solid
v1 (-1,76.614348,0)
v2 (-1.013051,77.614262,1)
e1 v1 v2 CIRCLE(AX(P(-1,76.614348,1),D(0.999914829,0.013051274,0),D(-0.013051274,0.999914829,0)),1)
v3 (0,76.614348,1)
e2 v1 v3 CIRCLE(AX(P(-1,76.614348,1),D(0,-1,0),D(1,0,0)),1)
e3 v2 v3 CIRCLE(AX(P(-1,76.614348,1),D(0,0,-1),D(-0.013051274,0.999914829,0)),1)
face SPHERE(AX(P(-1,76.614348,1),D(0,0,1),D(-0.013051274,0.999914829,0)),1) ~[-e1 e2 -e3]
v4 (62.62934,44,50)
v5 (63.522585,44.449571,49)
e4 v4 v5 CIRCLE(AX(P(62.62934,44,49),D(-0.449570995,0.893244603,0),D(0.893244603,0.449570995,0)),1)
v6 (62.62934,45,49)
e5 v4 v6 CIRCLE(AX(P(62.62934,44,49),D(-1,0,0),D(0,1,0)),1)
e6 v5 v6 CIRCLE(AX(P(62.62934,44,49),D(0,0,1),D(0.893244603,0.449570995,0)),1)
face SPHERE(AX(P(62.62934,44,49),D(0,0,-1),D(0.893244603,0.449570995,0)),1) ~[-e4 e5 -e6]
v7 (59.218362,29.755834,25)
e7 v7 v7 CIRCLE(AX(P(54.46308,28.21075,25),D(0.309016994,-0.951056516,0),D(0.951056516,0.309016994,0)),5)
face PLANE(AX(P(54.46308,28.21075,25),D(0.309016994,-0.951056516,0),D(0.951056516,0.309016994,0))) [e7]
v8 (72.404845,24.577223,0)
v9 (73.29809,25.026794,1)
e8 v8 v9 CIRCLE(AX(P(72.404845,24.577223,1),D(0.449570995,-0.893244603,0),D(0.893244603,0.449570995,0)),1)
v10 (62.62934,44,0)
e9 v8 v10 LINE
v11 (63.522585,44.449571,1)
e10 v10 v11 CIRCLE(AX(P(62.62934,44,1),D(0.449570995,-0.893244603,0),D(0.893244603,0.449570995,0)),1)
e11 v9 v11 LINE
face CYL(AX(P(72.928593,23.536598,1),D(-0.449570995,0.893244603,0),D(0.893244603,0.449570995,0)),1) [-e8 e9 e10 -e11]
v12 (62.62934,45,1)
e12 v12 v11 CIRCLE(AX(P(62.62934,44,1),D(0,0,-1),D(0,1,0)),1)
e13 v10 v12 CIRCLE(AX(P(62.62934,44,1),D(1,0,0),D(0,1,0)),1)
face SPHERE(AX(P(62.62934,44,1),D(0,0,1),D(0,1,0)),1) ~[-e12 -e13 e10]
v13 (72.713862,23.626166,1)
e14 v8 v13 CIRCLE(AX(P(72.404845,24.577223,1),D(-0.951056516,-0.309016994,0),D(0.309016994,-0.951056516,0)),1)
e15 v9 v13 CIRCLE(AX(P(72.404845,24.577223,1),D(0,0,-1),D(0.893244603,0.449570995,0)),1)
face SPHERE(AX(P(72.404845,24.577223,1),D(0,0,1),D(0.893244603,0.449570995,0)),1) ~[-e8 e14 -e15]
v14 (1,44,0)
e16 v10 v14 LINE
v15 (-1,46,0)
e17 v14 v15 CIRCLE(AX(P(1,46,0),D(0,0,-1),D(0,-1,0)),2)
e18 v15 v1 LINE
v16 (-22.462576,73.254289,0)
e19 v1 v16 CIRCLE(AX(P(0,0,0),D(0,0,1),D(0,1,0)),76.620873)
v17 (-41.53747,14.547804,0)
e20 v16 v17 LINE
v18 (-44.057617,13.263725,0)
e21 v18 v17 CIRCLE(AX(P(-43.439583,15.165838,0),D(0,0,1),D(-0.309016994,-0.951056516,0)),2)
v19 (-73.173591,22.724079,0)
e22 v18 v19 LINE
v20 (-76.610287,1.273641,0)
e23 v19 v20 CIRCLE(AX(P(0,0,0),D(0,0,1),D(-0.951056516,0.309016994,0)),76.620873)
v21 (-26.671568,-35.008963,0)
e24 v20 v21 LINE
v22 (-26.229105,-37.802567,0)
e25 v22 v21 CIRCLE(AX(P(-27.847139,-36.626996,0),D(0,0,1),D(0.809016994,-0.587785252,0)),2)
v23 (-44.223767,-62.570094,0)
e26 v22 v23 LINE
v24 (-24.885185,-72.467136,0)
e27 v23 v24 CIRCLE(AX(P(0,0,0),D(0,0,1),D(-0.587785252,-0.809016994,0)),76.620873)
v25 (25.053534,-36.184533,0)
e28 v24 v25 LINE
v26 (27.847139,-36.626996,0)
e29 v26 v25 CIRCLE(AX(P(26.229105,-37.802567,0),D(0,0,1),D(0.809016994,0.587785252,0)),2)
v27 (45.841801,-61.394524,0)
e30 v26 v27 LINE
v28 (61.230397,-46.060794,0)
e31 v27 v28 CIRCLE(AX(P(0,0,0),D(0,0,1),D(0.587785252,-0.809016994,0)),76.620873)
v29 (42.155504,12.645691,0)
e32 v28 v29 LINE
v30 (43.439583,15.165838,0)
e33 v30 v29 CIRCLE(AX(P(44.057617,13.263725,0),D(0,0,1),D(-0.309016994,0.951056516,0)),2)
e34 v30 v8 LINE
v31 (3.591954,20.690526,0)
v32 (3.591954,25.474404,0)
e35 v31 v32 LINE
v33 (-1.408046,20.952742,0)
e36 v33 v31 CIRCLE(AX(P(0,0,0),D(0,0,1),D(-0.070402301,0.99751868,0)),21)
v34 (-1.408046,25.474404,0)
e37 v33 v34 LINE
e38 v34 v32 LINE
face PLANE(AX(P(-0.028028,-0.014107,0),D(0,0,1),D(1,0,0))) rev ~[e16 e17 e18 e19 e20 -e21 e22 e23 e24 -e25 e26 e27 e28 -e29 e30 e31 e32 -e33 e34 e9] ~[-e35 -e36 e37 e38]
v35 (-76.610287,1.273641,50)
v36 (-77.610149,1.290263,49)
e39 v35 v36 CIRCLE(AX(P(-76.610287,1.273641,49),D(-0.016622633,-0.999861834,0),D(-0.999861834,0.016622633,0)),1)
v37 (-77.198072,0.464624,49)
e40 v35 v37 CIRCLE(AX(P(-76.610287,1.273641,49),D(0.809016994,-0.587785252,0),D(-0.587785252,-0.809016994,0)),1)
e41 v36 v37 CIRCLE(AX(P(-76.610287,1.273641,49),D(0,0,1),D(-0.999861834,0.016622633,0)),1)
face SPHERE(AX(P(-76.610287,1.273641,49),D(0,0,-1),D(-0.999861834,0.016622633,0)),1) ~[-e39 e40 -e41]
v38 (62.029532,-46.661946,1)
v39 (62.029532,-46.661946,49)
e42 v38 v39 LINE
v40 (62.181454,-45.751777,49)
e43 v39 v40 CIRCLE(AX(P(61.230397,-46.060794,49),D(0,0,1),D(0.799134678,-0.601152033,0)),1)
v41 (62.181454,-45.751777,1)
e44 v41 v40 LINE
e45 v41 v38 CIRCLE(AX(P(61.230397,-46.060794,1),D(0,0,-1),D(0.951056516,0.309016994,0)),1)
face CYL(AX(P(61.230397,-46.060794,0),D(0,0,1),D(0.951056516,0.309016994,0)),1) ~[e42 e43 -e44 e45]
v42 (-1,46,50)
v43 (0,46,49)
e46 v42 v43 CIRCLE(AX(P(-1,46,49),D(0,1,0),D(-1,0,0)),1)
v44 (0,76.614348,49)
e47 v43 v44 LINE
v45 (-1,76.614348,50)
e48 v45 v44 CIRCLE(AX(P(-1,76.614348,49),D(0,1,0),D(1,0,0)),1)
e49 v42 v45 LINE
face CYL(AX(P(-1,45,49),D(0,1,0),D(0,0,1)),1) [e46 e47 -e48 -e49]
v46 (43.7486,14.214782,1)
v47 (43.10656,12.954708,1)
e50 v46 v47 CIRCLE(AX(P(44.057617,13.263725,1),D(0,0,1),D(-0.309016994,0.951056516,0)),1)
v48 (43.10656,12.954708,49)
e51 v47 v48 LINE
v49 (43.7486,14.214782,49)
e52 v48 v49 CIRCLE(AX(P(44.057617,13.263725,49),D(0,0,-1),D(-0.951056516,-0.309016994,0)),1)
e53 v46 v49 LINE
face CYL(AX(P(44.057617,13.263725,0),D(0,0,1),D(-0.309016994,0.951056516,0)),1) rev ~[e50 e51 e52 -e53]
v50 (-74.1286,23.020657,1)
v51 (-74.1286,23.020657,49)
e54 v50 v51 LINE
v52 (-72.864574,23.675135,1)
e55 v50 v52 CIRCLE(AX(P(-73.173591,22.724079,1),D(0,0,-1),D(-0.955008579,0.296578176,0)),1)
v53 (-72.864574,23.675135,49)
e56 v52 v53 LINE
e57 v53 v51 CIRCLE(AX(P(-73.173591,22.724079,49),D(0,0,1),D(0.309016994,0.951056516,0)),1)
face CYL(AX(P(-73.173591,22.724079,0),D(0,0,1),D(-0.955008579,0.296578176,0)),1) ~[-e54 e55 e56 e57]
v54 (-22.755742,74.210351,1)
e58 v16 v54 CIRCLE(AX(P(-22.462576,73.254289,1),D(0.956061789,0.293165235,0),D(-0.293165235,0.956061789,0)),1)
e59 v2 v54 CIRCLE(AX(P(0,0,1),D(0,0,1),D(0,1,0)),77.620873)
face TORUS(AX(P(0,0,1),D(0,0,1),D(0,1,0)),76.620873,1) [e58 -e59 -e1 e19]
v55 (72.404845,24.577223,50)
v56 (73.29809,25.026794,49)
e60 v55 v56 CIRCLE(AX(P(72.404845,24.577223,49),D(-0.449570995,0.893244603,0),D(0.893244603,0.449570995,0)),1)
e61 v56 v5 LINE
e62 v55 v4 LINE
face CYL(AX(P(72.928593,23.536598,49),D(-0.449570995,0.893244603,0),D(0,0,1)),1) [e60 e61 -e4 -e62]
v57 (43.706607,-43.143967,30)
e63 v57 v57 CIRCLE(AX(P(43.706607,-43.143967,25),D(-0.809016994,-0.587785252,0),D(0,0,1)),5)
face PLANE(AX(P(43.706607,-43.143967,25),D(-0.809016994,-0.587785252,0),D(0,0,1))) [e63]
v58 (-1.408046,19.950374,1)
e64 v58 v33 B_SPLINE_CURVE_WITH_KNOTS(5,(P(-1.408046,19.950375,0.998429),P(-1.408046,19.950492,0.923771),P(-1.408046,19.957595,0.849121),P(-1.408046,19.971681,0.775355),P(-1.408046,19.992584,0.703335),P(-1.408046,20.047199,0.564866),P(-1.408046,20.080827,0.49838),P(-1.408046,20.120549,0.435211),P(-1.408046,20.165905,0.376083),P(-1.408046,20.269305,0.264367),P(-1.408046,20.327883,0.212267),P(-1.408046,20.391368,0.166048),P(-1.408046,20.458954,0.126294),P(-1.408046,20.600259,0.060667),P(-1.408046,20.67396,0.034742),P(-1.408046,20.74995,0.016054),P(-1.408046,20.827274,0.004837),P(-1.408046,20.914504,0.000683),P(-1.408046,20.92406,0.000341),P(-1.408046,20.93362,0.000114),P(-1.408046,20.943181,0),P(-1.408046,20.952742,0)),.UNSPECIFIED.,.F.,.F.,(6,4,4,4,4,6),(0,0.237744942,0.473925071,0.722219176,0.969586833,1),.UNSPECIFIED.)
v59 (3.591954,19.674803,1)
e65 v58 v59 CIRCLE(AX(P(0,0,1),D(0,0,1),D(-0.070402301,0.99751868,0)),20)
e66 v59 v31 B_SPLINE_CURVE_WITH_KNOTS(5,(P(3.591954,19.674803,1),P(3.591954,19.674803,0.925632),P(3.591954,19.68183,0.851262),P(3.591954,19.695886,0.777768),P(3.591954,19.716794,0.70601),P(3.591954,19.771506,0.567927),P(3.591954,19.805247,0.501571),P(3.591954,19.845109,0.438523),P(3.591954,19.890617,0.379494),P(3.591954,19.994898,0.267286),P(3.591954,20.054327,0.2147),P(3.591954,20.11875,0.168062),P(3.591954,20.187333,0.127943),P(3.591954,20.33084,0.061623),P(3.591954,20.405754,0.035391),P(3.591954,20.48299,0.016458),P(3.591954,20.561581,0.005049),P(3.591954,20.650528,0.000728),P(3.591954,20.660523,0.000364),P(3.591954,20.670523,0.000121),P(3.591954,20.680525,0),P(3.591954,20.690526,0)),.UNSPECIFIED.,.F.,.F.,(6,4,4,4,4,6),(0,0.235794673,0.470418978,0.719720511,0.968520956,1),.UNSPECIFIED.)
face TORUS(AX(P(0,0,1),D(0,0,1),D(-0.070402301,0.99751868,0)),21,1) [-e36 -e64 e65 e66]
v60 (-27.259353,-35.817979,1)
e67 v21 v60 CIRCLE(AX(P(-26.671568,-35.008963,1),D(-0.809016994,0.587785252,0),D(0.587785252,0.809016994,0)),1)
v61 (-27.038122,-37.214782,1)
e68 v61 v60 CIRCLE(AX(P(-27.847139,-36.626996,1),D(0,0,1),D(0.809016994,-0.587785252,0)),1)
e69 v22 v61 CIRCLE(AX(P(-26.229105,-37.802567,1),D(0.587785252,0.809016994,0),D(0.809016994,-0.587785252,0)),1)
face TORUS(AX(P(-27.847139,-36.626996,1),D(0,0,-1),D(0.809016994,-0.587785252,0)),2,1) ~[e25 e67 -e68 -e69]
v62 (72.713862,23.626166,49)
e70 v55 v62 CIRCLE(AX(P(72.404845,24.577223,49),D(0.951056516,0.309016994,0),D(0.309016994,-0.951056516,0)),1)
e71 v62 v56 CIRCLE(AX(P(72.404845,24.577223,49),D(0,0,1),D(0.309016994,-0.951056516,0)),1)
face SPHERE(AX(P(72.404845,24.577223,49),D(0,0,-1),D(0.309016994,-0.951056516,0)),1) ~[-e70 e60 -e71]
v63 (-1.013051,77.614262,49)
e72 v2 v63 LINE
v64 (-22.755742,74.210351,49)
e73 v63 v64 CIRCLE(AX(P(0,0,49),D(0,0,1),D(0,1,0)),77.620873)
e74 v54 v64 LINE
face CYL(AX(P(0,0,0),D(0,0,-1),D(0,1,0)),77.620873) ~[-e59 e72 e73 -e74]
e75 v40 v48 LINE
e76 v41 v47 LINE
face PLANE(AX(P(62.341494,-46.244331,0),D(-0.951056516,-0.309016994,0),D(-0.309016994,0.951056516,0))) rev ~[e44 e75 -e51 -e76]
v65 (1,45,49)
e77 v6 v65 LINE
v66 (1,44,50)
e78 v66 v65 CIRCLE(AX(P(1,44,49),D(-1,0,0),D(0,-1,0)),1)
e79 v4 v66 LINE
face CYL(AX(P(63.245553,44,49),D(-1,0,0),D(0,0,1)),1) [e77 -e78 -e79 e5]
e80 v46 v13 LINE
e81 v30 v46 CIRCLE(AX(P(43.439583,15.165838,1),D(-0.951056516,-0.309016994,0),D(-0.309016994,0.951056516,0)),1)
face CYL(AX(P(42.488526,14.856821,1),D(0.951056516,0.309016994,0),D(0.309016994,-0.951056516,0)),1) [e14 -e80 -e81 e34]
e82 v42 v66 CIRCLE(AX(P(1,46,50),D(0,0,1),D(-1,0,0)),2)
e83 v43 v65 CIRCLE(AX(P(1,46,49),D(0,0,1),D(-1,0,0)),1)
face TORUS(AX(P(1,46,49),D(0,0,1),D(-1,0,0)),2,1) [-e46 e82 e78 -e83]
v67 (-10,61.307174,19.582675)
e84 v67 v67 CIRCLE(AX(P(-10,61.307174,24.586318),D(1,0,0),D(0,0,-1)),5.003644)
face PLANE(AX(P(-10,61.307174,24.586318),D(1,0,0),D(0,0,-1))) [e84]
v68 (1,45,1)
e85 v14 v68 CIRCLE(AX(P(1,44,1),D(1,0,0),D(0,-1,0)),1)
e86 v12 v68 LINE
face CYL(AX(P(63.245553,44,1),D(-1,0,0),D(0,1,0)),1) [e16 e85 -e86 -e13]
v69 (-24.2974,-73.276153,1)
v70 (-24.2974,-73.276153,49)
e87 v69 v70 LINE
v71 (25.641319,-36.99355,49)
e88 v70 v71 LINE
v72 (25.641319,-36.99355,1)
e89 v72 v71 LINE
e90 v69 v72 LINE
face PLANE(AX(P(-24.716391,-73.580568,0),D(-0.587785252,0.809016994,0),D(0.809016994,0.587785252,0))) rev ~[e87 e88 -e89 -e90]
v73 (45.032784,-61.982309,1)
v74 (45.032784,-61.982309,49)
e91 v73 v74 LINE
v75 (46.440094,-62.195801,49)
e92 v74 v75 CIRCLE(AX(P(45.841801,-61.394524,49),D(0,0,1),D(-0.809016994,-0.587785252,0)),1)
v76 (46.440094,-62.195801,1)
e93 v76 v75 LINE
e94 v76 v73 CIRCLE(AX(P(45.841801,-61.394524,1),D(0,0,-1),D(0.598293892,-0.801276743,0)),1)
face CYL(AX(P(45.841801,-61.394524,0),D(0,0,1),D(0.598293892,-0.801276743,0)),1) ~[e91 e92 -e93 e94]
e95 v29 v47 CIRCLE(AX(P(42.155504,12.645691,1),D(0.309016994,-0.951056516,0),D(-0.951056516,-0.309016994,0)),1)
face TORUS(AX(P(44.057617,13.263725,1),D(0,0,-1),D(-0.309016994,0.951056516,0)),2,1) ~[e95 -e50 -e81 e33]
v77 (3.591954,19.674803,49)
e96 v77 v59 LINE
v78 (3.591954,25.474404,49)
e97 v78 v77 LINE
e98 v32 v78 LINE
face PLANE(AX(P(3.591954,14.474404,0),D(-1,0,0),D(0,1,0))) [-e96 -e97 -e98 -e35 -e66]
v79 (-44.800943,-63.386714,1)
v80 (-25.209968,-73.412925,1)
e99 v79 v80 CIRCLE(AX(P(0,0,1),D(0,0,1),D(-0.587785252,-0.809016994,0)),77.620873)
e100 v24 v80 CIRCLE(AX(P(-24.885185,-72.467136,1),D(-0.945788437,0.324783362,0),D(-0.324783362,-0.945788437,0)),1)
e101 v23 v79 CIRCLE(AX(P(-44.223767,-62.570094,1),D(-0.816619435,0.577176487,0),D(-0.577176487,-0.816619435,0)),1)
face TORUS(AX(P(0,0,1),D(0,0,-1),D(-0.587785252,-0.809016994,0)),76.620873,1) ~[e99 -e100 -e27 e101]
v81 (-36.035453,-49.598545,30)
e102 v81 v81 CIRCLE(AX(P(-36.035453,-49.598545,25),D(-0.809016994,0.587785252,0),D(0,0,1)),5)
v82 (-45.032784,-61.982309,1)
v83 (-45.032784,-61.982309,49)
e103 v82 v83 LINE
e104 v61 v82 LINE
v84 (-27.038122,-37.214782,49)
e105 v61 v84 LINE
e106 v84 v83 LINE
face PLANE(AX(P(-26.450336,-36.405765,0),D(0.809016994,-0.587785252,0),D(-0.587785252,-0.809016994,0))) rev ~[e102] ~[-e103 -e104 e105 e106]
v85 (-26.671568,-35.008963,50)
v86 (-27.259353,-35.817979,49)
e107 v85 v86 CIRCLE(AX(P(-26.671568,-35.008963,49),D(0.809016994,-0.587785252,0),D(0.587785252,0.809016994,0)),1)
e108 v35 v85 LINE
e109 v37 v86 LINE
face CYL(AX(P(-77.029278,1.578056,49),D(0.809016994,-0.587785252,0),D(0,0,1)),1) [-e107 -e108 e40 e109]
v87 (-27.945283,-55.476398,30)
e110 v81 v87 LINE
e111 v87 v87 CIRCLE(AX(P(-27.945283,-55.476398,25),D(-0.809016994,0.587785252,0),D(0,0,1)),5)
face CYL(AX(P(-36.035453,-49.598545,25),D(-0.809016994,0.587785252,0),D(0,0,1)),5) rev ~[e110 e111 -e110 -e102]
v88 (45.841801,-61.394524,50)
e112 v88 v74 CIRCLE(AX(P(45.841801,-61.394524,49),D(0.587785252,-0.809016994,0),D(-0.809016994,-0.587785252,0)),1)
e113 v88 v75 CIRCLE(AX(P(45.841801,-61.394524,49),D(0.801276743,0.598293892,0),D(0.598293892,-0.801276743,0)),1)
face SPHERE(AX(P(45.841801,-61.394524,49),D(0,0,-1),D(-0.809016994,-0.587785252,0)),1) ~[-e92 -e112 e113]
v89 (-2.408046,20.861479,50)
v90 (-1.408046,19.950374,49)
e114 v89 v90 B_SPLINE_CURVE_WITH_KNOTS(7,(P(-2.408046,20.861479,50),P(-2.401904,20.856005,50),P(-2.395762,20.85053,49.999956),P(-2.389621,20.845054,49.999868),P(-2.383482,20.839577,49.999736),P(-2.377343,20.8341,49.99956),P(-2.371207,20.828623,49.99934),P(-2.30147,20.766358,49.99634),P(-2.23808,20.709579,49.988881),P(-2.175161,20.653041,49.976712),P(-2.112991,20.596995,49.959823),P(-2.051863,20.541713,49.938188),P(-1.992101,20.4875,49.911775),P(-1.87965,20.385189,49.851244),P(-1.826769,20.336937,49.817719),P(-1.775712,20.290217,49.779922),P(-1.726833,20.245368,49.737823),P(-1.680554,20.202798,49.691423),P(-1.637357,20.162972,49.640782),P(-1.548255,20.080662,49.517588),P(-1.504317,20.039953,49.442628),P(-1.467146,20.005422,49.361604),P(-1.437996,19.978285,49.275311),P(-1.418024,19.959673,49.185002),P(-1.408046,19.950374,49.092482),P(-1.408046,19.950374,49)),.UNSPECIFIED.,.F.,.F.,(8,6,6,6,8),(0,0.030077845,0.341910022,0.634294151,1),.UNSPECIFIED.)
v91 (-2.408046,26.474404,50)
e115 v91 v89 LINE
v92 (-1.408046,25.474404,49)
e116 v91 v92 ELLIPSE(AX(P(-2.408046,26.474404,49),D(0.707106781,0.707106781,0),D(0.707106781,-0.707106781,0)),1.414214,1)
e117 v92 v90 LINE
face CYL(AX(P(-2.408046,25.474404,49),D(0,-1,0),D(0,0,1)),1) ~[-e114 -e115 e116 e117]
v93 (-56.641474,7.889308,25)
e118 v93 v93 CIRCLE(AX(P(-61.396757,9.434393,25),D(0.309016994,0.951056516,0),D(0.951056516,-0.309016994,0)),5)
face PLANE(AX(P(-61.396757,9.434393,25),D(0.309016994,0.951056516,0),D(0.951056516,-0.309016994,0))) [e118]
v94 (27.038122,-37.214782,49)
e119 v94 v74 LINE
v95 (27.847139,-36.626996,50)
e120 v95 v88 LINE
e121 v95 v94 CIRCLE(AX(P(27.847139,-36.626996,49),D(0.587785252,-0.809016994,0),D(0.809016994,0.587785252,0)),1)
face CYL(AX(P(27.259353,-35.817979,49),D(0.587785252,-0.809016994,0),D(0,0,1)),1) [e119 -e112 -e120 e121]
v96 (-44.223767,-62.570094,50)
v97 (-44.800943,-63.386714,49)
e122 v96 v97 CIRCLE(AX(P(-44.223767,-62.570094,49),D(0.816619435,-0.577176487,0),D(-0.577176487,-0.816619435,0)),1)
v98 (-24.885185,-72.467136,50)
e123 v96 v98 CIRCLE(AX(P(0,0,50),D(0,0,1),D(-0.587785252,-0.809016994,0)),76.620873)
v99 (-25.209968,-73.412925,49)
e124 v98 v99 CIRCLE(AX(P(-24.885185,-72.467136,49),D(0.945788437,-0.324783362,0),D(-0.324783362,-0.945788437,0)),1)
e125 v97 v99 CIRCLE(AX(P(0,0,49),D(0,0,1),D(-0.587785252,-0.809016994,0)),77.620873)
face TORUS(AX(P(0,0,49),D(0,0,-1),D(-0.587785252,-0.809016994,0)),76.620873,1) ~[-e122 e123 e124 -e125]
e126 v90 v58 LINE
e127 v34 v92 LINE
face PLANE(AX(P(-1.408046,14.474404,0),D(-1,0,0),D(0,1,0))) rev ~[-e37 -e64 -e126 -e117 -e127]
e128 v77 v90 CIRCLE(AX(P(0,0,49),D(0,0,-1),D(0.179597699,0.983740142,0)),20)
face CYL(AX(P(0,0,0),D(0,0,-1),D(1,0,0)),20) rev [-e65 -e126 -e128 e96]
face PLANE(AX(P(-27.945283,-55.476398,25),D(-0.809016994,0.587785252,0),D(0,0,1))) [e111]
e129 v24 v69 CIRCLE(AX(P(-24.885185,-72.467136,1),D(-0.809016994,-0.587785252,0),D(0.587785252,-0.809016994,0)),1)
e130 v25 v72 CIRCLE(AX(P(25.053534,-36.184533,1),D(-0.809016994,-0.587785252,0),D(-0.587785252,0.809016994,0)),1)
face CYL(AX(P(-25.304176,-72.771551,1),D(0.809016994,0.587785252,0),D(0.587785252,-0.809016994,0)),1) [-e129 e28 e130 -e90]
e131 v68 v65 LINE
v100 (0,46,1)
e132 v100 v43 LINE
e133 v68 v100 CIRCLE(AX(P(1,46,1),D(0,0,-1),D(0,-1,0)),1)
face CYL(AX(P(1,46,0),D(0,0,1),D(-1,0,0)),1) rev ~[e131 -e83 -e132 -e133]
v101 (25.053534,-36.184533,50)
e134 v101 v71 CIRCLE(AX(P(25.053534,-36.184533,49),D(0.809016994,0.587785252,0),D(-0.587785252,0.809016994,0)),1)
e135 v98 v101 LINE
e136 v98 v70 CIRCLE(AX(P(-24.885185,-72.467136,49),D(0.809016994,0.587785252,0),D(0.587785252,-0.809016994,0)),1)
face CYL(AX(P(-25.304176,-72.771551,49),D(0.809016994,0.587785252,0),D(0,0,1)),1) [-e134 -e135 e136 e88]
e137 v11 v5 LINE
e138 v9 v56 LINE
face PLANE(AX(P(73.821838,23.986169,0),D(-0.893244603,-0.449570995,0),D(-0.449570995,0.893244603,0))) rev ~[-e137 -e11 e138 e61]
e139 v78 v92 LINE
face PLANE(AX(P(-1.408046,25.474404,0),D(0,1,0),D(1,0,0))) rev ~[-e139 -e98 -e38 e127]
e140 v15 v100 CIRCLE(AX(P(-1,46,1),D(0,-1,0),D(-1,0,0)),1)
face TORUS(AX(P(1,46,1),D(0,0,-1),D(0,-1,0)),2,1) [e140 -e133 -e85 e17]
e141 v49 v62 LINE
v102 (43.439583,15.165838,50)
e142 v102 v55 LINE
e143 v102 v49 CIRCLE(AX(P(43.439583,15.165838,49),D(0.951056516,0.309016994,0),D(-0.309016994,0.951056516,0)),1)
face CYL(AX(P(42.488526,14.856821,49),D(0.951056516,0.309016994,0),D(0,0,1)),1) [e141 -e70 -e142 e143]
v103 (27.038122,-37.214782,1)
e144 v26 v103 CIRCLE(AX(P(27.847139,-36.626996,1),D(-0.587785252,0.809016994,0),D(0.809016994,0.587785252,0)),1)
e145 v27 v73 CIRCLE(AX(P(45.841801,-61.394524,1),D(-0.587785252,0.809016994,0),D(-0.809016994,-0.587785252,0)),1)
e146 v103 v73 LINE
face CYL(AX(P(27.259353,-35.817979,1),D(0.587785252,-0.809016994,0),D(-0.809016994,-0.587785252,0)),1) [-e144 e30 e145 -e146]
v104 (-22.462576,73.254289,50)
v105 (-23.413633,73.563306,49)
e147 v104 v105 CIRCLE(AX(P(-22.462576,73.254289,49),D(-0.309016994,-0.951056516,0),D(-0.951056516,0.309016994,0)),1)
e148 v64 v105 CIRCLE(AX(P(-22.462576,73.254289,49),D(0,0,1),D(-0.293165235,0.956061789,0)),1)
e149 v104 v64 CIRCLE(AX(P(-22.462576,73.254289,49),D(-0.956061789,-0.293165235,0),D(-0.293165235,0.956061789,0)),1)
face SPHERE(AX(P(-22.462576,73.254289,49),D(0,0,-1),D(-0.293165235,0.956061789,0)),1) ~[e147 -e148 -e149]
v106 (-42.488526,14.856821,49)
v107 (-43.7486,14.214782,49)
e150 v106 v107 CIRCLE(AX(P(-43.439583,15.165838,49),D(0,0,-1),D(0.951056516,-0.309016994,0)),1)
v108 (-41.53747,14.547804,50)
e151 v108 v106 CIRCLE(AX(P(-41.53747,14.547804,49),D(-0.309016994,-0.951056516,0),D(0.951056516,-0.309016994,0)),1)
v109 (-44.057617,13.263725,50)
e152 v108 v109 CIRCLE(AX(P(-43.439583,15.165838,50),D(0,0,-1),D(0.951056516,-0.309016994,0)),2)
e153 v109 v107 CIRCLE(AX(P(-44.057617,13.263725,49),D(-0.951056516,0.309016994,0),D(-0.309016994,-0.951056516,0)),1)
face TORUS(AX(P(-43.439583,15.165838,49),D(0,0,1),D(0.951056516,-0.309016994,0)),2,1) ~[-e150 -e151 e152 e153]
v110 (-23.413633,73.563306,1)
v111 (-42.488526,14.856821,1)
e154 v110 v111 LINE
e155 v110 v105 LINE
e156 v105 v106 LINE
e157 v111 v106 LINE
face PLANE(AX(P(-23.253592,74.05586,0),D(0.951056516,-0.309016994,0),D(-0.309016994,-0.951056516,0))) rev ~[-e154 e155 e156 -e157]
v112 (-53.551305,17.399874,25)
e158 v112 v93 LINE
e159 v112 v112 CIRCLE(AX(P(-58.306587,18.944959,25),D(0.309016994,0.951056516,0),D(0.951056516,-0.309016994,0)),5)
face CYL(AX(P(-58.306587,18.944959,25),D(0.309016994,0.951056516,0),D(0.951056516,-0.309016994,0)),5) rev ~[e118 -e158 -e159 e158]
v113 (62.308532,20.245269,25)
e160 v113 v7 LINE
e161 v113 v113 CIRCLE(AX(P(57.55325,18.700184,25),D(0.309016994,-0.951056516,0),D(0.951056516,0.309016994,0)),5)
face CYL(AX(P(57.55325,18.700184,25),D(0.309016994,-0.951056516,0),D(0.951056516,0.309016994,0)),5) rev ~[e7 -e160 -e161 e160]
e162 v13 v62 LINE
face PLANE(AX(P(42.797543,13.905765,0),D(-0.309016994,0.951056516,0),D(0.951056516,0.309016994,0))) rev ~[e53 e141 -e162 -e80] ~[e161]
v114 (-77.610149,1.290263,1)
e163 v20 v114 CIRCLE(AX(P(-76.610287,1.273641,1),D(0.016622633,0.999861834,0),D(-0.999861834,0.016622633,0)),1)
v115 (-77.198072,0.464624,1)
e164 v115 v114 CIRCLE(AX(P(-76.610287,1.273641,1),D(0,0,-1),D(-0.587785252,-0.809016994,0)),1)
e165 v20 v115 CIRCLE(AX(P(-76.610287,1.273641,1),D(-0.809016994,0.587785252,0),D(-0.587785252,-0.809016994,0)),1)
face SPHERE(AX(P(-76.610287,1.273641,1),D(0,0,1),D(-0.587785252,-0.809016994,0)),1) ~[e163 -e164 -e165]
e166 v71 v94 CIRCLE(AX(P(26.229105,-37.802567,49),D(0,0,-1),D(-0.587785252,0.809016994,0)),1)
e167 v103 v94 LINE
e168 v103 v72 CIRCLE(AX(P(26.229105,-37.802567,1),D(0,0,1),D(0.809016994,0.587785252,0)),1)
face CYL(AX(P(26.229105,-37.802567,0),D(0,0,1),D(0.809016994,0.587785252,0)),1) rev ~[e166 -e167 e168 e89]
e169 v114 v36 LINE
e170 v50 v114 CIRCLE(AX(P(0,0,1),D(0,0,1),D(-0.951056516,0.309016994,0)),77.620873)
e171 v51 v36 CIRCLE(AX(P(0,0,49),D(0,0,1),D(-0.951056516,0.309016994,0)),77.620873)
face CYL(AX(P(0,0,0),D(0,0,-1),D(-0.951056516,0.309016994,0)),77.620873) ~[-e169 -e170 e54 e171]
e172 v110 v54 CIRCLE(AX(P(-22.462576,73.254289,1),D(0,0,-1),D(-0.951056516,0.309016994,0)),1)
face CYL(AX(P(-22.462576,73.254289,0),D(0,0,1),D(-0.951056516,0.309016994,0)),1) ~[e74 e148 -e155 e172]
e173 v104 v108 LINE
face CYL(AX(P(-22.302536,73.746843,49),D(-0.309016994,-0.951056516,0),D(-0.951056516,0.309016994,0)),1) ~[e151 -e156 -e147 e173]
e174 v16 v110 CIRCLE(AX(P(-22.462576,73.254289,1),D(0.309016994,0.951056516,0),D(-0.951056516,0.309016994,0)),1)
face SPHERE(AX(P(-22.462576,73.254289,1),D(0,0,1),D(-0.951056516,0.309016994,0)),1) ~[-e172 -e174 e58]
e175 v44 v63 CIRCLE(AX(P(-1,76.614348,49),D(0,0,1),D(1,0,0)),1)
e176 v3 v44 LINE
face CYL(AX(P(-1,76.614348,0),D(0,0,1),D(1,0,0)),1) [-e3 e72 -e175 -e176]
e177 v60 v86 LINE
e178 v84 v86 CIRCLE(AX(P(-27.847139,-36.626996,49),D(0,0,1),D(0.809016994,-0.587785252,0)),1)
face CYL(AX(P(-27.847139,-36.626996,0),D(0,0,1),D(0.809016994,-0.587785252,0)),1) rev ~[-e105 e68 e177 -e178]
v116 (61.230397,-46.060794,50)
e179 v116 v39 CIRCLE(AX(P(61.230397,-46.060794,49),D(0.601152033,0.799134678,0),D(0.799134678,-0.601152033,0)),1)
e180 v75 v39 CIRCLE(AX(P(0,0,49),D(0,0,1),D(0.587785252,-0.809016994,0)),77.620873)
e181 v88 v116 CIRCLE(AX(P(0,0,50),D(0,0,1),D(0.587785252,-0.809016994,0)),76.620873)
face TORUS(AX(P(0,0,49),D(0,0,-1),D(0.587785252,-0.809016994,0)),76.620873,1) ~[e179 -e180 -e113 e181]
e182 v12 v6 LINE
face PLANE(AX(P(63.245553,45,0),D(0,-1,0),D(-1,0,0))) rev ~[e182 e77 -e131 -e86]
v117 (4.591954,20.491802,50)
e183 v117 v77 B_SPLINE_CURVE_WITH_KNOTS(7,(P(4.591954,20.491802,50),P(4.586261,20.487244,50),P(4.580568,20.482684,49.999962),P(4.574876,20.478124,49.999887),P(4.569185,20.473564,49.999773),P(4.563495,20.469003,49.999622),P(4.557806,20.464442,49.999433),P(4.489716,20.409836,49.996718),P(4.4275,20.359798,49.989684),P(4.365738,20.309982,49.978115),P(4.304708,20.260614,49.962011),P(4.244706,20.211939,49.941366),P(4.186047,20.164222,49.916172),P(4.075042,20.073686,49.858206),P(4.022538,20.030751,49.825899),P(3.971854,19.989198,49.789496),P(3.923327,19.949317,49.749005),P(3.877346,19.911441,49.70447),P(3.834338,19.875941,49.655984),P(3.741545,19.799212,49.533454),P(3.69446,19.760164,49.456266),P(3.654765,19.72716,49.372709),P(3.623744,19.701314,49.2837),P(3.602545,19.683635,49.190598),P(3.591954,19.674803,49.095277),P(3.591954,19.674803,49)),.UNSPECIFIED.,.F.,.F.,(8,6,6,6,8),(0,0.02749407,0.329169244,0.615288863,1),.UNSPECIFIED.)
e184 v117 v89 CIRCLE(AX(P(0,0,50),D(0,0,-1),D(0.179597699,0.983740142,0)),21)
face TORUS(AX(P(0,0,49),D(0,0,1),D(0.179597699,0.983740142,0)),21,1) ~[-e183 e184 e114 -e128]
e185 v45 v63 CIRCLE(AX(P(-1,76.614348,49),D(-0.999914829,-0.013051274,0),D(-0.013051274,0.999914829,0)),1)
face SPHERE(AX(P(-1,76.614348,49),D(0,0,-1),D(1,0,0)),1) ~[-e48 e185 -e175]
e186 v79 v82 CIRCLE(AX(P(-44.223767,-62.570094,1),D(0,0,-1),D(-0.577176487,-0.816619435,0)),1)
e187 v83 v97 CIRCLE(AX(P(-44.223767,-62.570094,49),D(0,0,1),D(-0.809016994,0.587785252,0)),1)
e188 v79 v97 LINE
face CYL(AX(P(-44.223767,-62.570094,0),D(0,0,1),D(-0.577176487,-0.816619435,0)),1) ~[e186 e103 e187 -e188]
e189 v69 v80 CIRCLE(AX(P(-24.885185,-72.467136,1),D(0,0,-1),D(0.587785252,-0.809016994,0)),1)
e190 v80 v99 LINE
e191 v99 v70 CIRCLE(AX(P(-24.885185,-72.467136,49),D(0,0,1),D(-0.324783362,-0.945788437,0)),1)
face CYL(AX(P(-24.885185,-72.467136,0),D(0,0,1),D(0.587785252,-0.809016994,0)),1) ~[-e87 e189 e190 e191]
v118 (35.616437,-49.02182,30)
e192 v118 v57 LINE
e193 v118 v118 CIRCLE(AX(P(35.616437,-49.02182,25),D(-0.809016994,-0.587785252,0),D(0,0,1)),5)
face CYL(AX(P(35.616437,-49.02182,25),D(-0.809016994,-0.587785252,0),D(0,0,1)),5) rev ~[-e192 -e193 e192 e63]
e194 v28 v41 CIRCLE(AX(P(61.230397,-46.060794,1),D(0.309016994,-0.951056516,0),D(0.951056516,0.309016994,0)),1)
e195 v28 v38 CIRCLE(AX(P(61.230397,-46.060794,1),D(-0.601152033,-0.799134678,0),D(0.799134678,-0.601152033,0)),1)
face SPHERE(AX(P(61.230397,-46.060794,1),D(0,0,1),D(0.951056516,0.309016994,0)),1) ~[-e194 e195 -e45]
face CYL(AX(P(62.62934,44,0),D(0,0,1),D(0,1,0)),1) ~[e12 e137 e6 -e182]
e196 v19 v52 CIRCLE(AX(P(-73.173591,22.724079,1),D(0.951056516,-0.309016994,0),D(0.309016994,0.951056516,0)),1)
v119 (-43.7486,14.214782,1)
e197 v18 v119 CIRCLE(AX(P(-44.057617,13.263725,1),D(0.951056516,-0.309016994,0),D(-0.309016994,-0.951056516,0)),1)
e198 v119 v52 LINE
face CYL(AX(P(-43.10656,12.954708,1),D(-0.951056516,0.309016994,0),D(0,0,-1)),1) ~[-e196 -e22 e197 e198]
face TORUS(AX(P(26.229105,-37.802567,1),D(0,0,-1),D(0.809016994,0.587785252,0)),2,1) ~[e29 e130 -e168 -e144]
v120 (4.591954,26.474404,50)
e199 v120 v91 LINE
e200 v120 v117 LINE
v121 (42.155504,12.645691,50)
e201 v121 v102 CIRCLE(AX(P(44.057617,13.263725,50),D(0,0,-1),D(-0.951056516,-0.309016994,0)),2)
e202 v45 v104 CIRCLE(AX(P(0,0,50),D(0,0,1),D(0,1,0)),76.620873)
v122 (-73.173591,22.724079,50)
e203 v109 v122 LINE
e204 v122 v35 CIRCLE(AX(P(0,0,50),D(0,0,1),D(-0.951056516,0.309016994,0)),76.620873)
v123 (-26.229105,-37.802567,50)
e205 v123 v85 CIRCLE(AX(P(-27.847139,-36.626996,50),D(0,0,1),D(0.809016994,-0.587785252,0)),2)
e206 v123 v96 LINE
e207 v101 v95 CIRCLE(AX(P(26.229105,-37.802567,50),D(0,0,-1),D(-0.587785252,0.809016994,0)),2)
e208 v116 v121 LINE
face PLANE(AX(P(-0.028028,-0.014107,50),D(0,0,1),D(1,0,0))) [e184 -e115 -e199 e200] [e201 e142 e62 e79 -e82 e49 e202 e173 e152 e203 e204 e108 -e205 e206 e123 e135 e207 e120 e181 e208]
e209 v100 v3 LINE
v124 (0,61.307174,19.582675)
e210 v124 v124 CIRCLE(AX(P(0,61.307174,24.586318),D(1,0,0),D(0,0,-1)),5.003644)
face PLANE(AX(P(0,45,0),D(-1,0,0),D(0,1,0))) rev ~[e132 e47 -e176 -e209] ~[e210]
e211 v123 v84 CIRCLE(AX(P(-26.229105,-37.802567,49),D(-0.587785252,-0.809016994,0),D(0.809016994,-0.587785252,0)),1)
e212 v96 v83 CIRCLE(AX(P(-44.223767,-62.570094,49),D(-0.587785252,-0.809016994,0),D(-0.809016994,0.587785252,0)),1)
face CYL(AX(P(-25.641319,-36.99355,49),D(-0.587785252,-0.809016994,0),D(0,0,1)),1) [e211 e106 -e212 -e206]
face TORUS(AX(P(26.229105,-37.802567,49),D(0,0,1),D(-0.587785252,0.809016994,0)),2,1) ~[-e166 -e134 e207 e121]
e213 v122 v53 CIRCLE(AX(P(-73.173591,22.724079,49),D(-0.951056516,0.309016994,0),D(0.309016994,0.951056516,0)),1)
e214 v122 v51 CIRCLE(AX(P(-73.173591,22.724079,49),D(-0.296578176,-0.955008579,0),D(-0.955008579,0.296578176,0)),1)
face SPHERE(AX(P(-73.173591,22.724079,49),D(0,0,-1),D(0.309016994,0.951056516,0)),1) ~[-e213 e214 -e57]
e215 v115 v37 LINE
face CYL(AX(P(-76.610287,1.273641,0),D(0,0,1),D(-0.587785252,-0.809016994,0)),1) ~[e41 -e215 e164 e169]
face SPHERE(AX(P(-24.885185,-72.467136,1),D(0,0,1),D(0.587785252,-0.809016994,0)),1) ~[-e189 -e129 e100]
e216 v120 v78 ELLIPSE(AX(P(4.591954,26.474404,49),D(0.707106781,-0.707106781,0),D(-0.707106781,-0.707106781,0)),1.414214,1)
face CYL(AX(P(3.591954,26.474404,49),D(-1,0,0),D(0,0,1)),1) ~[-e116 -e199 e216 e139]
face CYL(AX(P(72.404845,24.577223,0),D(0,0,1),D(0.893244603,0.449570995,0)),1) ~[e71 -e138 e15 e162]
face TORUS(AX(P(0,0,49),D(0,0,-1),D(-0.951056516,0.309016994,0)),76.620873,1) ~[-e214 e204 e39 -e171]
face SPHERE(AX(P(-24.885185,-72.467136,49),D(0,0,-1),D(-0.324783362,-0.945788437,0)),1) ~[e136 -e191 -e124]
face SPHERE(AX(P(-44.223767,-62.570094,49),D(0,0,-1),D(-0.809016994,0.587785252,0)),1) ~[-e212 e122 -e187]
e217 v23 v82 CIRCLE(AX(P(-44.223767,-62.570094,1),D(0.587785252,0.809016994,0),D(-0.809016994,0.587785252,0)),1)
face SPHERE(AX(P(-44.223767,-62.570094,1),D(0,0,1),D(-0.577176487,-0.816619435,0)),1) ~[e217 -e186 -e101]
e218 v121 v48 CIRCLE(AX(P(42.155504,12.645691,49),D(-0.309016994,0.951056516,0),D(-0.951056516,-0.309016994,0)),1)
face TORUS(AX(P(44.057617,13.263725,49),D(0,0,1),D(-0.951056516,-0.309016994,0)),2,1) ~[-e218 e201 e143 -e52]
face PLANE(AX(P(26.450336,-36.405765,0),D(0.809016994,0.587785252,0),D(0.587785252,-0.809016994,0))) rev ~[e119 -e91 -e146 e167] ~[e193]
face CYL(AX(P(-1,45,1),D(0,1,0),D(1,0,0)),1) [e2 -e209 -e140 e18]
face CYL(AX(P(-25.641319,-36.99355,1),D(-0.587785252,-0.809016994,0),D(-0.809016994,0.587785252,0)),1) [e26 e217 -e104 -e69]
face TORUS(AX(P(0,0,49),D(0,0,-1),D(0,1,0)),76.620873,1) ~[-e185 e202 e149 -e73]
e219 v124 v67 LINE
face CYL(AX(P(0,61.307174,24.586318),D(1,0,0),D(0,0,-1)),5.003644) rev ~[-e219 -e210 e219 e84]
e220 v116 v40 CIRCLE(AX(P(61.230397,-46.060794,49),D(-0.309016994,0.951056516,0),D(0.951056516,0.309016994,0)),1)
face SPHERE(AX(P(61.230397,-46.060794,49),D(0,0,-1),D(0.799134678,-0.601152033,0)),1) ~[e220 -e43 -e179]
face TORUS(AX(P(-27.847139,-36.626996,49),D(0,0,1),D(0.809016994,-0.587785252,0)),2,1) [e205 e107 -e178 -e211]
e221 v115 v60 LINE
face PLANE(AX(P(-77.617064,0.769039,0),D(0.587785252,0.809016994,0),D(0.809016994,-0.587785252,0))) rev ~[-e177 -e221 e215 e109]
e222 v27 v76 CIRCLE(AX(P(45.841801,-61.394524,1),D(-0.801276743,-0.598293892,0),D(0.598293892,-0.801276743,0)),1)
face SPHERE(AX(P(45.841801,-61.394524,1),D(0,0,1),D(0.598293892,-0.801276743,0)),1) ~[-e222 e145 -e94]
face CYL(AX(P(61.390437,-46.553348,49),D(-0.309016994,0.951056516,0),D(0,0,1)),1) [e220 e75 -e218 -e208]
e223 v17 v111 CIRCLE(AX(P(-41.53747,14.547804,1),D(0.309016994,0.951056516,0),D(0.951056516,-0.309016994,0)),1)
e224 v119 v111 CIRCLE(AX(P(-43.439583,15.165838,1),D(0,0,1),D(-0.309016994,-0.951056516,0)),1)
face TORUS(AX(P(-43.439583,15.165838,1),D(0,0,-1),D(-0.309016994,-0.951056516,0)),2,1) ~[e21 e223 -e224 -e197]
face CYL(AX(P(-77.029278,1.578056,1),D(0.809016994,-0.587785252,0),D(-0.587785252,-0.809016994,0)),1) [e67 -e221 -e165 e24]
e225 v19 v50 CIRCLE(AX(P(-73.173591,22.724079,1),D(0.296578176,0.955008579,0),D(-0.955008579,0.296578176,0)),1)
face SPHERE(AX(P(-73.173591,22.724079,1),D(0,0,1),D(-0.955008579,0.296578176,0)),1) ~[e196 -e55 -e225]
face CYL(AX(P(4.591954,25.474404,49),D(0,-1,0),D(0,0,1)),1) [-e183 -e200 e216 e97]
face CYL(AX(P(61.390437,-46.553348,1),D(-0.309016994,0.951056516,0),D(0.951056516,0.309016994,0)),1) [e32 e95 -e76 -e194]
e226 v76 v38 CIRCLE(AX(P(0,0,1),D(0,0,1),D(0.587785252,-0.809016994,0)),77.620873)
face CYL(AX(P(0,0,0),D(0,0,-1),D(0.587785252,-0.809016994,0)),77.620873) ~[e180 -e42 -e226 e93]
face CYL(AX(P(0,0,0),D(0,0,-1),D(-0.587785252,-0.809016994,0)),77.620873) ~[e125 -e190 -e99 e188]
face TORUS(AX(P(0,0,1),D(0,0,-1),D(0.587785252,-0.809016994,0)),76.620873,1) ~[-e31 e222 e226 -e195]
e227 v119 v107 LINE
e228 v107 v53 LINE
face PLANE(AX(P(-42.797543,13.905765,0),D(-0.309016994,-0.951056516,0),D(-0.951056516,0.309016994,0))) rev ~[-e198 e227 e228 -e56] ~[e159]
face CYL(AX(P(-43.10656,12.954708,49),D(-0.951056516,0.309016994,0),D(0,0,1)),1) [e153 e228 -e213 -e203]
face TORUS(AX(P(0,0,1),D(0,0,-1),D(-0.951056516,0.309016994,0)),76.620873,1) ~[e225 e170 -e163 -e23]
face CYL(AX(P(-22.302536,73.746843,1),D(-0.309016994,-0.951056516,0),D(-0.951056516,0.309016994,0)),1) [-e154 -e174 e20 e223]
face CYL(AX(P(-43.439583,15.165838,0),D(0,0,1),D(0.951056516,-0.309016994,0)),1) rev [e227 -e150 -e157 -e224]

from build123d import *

# Parameters (mm, degrees)
SKETCH1_R           = 20
BOSS_EXTRUDE2_DEPTH = 50
SKETCH2_W           = 5
SKETCH2_H           = 11
CUT_EXTRUDE3_DEPTH  = 60
FILLET1_R           = 1
SKETCH3_R           = 5.003643642
CUT_EXTRUDE4_DEPTH  = 10
SKETCH4_R           = 5
CUT_EXTRUDE5_DEPTH  = 10
SKETCH5_R           = 5
CUT_EXTRUDE6_DEPTH  = 10
SKETCH6_R           = 5
CUT_EXTRUDE7_DEPTH  = 10
SKETCH7_R           = 5
CUT_EXTRUDE8_DEPTH  = 10


with BuildPart() as part:
    # Sketch1 → Boss-Extrude2 (new body)
    with BuildSketch(Plane.XY):
        with BuildLine():
            Line((-23.253592475, 74.055860248), (-42.797543233, 13.905764747))
            Line((-42.797543233, 13.905764747), (-73.821837525, 23.986169024))
            ThreePointArc((-73.821837525, 23.986169024), (-76.604138186, 12.522220762), (-77.617063713, 0.769038699))
            Line((-77.617063713, 0.769038699), (-26.450336353, -36.405764747))
            Line((-26.450336353, -36.405764747), (-45.624404702, -62.796605765))
            ThreePointArc((-45.624404702, -62.796605765), (-35.581320193, -68.985285774), (-24.716391007, -73.580568193))
            Line((-24.716391007, -73.580568193), (26.450336353, -36.405764747))
            Line((26.450336353, -36.405764747), (45.624404702, -62.796605765))
            ThreePointArc((45.624404702, -62.796605765), (54.613672942, -55.157472094), (62.341493992, -46.244330754))
            Line((62.341493992, -46.244330754), (42.797543233, 13.905764747))
            Line((42.797543233, 13.905764747), (73.821837525, 23.986169024))
            Line((73.821837525, 23.986169024), (63.245553203, 45))
            Line((63.245553203, 45), (0, 45))
            Line((0, 45), (0, 77.620873481))
            ThreePointArc((0, 77.620873481), (-11.762640885, 76.72444382), (-23.253592475, 74.055860248))
        make_face()
        Circle(SKETCH1_R, mode=Mode.SUBTRACT)
    extrude(amount=BOSS_EXTRUDE2_DEPTH)

    # Sketch2 → Cut-Extrude3 (cut)
    with BuildSketch(Plane.XY):
        with Locations((1.091953982, 19.974403848)):
            Rectangle(SKETCH2_W, SKETCH2_H)
    extrude(amount=CUT_EXTRUDE3_DEPTH, mode=Mode.SUBTRACT)

    # Fillet1
    fillet1_edges = [part.edges().sort_by_distance(p)[0] for p in [
        (-11.762640885, 76.72444382, 50),
        (-33.025567854, 43.980812497, 50),
        (31.622776602, 45, 0),
        (68.533695364, 34.493084512, 0),
        (58.309690379, 18.945966885, 0),
        (52.569518613, -16.169283004, 0),
        (54.613672942, -55.157472094, 0),
        (36.037370528, -49.601185256, 0),
        (-58.309690379, 18.945966885, 50),
        (0.866972673, -54.99316647, 0),
        (-35.581320193, -68.985285774, 0),
        (-36.037370528, -49.601185256, 0),
        (-52.033700033, -17.818363024, 0),
        (-76.604138186, 12.522220762, 0),
        (-58.309690379, 18.945966885, 0),
        (-33.025567854, 43.980812497, 0),
        (-11.762640885, 76.72444382, 0),
        (0, 61.310436741, 0),
        (-76.604138186, 12.522220762, 50),
        (0, 45, 25),
        (63.245553203, 45, 25),
        (73.821837525, 23.986169024, 25),
        (42.797543233, 13.905764747, 25),
        (62.341493992, -46.244330754, 25),
        (-52.033700033, -17.818363024, 50),
        (45.624404702, -62.796605765, 25),
        (26.450336353, -36.405764747, 25),
        (-24.716391007, -73.580568193, 25),
        (-45.624404702, -62.796605765, 25),
        (-26.450336353, -36.405764747, 25),
        (-77.617063713, 0.769038699, 25),
        (-73.821837525, 23.986169024, 25),
        (-42.797543233, 13.905764747, 25),
        (-23.253592475, 74.055860248, 25),
        (0, 77.620873481, 25),
        (-36.037370528, -49.601185256, 50),
        (-35.581320193, -68.985285774, 50),
        (0.866972673, -54.99316647, 50),
        (-1.100612697, -19.96969333, 0),
        (36.037370528, -49.601185256, 50),
        (-1.100612697, -19.96969333, 50),
        (54.613672942, -55.157472094, 50),
        (-1.408046018, 22.712388719, 50),
        (3.591953982, 22.574603341, 50),
        (1.091953982, 25.474403848, 50),
        (0, 61.310436741, 50),
        (52.569518613, -16.169283004, 50),
        (58.309690379, 18.945966885, 50),
        (68.533695364, 34.493084512, 50),
        (31.622776602, 45, 50),
    ]]
    fillet(fillet1_edges, radius=FILLET1_R)

    # Sketch3 → Cut-Extrude4 (cut)
    with BuildSketch(Plane(origin=(0, 0, 0), x_dir=(0, 0, -1), z_dir=(1, 0, 0))):
        with Locations((-24.586318369, 61.307173783)):
            Circle(SKETCH3_R)
    extrude(amount=-CUT_EXTRUDE4_DEPTH, mode=Mode.SUBTRACT)

    # Sketch4 → Cut-Extrude5 (cut)
    with BuildSketch(Plane(origin=(0, 0, 0), x_dir=(0.951056516, 0.309016994, 0), z_dir=(0.309016994, -0.951056516, 0))):
        with Locations((60.51506778, 25)):
            Circle(SKETCH4_R)
    extrude(amount=-CUT_EXTRUDE5_DEPTH, mode=Mode.SUBTRACT)

    # Sketch5 → Cut-Extrude6 (cut)
    with BuildSketch(Plane(origin=(0, 0, 0), x_dir=(0, 0, 1), z_dir=(-0.809016994, -0.587785252, 0))):
        with Locations((25, -60.594301807)):
            Circle(SKETCH5_R)
    extrude(amount=-CUT_EXTRUDE6_DEPTH, mode=Mode.SUBTRACT)

    # Sketch6 → Cut-Extrude7 (cut)
    with BuildSketch(Plane(origin=(0, 0, 0), x_dir=(0, 0, 1), z_dir=(-0.809016994, 0.587785252, 0))):
        with Locations((25, -61.307173783)):
            Circle(SKETCH6_R)
    extrude(amount=-CUT_EXTRUDE7_DEPTH, mode=Mode.SUBTRACT)

    # Sketch7 → Cut-Extrude8 (cut)
    with BuildSketch(Plane(origin=(0, 0, 0), x_dir=(0.951056516, -0.309016994, 0), z_dir=(0.309016994, 0.951056516, 0))):
        with Locations((-61.307173783, -25)):
            Circle(SKETCH7_R)
    extrude(amount=-CUT_EXTRUDE8_DEPTH, mode=Mode.SUBTRACT)


solid = part.part
